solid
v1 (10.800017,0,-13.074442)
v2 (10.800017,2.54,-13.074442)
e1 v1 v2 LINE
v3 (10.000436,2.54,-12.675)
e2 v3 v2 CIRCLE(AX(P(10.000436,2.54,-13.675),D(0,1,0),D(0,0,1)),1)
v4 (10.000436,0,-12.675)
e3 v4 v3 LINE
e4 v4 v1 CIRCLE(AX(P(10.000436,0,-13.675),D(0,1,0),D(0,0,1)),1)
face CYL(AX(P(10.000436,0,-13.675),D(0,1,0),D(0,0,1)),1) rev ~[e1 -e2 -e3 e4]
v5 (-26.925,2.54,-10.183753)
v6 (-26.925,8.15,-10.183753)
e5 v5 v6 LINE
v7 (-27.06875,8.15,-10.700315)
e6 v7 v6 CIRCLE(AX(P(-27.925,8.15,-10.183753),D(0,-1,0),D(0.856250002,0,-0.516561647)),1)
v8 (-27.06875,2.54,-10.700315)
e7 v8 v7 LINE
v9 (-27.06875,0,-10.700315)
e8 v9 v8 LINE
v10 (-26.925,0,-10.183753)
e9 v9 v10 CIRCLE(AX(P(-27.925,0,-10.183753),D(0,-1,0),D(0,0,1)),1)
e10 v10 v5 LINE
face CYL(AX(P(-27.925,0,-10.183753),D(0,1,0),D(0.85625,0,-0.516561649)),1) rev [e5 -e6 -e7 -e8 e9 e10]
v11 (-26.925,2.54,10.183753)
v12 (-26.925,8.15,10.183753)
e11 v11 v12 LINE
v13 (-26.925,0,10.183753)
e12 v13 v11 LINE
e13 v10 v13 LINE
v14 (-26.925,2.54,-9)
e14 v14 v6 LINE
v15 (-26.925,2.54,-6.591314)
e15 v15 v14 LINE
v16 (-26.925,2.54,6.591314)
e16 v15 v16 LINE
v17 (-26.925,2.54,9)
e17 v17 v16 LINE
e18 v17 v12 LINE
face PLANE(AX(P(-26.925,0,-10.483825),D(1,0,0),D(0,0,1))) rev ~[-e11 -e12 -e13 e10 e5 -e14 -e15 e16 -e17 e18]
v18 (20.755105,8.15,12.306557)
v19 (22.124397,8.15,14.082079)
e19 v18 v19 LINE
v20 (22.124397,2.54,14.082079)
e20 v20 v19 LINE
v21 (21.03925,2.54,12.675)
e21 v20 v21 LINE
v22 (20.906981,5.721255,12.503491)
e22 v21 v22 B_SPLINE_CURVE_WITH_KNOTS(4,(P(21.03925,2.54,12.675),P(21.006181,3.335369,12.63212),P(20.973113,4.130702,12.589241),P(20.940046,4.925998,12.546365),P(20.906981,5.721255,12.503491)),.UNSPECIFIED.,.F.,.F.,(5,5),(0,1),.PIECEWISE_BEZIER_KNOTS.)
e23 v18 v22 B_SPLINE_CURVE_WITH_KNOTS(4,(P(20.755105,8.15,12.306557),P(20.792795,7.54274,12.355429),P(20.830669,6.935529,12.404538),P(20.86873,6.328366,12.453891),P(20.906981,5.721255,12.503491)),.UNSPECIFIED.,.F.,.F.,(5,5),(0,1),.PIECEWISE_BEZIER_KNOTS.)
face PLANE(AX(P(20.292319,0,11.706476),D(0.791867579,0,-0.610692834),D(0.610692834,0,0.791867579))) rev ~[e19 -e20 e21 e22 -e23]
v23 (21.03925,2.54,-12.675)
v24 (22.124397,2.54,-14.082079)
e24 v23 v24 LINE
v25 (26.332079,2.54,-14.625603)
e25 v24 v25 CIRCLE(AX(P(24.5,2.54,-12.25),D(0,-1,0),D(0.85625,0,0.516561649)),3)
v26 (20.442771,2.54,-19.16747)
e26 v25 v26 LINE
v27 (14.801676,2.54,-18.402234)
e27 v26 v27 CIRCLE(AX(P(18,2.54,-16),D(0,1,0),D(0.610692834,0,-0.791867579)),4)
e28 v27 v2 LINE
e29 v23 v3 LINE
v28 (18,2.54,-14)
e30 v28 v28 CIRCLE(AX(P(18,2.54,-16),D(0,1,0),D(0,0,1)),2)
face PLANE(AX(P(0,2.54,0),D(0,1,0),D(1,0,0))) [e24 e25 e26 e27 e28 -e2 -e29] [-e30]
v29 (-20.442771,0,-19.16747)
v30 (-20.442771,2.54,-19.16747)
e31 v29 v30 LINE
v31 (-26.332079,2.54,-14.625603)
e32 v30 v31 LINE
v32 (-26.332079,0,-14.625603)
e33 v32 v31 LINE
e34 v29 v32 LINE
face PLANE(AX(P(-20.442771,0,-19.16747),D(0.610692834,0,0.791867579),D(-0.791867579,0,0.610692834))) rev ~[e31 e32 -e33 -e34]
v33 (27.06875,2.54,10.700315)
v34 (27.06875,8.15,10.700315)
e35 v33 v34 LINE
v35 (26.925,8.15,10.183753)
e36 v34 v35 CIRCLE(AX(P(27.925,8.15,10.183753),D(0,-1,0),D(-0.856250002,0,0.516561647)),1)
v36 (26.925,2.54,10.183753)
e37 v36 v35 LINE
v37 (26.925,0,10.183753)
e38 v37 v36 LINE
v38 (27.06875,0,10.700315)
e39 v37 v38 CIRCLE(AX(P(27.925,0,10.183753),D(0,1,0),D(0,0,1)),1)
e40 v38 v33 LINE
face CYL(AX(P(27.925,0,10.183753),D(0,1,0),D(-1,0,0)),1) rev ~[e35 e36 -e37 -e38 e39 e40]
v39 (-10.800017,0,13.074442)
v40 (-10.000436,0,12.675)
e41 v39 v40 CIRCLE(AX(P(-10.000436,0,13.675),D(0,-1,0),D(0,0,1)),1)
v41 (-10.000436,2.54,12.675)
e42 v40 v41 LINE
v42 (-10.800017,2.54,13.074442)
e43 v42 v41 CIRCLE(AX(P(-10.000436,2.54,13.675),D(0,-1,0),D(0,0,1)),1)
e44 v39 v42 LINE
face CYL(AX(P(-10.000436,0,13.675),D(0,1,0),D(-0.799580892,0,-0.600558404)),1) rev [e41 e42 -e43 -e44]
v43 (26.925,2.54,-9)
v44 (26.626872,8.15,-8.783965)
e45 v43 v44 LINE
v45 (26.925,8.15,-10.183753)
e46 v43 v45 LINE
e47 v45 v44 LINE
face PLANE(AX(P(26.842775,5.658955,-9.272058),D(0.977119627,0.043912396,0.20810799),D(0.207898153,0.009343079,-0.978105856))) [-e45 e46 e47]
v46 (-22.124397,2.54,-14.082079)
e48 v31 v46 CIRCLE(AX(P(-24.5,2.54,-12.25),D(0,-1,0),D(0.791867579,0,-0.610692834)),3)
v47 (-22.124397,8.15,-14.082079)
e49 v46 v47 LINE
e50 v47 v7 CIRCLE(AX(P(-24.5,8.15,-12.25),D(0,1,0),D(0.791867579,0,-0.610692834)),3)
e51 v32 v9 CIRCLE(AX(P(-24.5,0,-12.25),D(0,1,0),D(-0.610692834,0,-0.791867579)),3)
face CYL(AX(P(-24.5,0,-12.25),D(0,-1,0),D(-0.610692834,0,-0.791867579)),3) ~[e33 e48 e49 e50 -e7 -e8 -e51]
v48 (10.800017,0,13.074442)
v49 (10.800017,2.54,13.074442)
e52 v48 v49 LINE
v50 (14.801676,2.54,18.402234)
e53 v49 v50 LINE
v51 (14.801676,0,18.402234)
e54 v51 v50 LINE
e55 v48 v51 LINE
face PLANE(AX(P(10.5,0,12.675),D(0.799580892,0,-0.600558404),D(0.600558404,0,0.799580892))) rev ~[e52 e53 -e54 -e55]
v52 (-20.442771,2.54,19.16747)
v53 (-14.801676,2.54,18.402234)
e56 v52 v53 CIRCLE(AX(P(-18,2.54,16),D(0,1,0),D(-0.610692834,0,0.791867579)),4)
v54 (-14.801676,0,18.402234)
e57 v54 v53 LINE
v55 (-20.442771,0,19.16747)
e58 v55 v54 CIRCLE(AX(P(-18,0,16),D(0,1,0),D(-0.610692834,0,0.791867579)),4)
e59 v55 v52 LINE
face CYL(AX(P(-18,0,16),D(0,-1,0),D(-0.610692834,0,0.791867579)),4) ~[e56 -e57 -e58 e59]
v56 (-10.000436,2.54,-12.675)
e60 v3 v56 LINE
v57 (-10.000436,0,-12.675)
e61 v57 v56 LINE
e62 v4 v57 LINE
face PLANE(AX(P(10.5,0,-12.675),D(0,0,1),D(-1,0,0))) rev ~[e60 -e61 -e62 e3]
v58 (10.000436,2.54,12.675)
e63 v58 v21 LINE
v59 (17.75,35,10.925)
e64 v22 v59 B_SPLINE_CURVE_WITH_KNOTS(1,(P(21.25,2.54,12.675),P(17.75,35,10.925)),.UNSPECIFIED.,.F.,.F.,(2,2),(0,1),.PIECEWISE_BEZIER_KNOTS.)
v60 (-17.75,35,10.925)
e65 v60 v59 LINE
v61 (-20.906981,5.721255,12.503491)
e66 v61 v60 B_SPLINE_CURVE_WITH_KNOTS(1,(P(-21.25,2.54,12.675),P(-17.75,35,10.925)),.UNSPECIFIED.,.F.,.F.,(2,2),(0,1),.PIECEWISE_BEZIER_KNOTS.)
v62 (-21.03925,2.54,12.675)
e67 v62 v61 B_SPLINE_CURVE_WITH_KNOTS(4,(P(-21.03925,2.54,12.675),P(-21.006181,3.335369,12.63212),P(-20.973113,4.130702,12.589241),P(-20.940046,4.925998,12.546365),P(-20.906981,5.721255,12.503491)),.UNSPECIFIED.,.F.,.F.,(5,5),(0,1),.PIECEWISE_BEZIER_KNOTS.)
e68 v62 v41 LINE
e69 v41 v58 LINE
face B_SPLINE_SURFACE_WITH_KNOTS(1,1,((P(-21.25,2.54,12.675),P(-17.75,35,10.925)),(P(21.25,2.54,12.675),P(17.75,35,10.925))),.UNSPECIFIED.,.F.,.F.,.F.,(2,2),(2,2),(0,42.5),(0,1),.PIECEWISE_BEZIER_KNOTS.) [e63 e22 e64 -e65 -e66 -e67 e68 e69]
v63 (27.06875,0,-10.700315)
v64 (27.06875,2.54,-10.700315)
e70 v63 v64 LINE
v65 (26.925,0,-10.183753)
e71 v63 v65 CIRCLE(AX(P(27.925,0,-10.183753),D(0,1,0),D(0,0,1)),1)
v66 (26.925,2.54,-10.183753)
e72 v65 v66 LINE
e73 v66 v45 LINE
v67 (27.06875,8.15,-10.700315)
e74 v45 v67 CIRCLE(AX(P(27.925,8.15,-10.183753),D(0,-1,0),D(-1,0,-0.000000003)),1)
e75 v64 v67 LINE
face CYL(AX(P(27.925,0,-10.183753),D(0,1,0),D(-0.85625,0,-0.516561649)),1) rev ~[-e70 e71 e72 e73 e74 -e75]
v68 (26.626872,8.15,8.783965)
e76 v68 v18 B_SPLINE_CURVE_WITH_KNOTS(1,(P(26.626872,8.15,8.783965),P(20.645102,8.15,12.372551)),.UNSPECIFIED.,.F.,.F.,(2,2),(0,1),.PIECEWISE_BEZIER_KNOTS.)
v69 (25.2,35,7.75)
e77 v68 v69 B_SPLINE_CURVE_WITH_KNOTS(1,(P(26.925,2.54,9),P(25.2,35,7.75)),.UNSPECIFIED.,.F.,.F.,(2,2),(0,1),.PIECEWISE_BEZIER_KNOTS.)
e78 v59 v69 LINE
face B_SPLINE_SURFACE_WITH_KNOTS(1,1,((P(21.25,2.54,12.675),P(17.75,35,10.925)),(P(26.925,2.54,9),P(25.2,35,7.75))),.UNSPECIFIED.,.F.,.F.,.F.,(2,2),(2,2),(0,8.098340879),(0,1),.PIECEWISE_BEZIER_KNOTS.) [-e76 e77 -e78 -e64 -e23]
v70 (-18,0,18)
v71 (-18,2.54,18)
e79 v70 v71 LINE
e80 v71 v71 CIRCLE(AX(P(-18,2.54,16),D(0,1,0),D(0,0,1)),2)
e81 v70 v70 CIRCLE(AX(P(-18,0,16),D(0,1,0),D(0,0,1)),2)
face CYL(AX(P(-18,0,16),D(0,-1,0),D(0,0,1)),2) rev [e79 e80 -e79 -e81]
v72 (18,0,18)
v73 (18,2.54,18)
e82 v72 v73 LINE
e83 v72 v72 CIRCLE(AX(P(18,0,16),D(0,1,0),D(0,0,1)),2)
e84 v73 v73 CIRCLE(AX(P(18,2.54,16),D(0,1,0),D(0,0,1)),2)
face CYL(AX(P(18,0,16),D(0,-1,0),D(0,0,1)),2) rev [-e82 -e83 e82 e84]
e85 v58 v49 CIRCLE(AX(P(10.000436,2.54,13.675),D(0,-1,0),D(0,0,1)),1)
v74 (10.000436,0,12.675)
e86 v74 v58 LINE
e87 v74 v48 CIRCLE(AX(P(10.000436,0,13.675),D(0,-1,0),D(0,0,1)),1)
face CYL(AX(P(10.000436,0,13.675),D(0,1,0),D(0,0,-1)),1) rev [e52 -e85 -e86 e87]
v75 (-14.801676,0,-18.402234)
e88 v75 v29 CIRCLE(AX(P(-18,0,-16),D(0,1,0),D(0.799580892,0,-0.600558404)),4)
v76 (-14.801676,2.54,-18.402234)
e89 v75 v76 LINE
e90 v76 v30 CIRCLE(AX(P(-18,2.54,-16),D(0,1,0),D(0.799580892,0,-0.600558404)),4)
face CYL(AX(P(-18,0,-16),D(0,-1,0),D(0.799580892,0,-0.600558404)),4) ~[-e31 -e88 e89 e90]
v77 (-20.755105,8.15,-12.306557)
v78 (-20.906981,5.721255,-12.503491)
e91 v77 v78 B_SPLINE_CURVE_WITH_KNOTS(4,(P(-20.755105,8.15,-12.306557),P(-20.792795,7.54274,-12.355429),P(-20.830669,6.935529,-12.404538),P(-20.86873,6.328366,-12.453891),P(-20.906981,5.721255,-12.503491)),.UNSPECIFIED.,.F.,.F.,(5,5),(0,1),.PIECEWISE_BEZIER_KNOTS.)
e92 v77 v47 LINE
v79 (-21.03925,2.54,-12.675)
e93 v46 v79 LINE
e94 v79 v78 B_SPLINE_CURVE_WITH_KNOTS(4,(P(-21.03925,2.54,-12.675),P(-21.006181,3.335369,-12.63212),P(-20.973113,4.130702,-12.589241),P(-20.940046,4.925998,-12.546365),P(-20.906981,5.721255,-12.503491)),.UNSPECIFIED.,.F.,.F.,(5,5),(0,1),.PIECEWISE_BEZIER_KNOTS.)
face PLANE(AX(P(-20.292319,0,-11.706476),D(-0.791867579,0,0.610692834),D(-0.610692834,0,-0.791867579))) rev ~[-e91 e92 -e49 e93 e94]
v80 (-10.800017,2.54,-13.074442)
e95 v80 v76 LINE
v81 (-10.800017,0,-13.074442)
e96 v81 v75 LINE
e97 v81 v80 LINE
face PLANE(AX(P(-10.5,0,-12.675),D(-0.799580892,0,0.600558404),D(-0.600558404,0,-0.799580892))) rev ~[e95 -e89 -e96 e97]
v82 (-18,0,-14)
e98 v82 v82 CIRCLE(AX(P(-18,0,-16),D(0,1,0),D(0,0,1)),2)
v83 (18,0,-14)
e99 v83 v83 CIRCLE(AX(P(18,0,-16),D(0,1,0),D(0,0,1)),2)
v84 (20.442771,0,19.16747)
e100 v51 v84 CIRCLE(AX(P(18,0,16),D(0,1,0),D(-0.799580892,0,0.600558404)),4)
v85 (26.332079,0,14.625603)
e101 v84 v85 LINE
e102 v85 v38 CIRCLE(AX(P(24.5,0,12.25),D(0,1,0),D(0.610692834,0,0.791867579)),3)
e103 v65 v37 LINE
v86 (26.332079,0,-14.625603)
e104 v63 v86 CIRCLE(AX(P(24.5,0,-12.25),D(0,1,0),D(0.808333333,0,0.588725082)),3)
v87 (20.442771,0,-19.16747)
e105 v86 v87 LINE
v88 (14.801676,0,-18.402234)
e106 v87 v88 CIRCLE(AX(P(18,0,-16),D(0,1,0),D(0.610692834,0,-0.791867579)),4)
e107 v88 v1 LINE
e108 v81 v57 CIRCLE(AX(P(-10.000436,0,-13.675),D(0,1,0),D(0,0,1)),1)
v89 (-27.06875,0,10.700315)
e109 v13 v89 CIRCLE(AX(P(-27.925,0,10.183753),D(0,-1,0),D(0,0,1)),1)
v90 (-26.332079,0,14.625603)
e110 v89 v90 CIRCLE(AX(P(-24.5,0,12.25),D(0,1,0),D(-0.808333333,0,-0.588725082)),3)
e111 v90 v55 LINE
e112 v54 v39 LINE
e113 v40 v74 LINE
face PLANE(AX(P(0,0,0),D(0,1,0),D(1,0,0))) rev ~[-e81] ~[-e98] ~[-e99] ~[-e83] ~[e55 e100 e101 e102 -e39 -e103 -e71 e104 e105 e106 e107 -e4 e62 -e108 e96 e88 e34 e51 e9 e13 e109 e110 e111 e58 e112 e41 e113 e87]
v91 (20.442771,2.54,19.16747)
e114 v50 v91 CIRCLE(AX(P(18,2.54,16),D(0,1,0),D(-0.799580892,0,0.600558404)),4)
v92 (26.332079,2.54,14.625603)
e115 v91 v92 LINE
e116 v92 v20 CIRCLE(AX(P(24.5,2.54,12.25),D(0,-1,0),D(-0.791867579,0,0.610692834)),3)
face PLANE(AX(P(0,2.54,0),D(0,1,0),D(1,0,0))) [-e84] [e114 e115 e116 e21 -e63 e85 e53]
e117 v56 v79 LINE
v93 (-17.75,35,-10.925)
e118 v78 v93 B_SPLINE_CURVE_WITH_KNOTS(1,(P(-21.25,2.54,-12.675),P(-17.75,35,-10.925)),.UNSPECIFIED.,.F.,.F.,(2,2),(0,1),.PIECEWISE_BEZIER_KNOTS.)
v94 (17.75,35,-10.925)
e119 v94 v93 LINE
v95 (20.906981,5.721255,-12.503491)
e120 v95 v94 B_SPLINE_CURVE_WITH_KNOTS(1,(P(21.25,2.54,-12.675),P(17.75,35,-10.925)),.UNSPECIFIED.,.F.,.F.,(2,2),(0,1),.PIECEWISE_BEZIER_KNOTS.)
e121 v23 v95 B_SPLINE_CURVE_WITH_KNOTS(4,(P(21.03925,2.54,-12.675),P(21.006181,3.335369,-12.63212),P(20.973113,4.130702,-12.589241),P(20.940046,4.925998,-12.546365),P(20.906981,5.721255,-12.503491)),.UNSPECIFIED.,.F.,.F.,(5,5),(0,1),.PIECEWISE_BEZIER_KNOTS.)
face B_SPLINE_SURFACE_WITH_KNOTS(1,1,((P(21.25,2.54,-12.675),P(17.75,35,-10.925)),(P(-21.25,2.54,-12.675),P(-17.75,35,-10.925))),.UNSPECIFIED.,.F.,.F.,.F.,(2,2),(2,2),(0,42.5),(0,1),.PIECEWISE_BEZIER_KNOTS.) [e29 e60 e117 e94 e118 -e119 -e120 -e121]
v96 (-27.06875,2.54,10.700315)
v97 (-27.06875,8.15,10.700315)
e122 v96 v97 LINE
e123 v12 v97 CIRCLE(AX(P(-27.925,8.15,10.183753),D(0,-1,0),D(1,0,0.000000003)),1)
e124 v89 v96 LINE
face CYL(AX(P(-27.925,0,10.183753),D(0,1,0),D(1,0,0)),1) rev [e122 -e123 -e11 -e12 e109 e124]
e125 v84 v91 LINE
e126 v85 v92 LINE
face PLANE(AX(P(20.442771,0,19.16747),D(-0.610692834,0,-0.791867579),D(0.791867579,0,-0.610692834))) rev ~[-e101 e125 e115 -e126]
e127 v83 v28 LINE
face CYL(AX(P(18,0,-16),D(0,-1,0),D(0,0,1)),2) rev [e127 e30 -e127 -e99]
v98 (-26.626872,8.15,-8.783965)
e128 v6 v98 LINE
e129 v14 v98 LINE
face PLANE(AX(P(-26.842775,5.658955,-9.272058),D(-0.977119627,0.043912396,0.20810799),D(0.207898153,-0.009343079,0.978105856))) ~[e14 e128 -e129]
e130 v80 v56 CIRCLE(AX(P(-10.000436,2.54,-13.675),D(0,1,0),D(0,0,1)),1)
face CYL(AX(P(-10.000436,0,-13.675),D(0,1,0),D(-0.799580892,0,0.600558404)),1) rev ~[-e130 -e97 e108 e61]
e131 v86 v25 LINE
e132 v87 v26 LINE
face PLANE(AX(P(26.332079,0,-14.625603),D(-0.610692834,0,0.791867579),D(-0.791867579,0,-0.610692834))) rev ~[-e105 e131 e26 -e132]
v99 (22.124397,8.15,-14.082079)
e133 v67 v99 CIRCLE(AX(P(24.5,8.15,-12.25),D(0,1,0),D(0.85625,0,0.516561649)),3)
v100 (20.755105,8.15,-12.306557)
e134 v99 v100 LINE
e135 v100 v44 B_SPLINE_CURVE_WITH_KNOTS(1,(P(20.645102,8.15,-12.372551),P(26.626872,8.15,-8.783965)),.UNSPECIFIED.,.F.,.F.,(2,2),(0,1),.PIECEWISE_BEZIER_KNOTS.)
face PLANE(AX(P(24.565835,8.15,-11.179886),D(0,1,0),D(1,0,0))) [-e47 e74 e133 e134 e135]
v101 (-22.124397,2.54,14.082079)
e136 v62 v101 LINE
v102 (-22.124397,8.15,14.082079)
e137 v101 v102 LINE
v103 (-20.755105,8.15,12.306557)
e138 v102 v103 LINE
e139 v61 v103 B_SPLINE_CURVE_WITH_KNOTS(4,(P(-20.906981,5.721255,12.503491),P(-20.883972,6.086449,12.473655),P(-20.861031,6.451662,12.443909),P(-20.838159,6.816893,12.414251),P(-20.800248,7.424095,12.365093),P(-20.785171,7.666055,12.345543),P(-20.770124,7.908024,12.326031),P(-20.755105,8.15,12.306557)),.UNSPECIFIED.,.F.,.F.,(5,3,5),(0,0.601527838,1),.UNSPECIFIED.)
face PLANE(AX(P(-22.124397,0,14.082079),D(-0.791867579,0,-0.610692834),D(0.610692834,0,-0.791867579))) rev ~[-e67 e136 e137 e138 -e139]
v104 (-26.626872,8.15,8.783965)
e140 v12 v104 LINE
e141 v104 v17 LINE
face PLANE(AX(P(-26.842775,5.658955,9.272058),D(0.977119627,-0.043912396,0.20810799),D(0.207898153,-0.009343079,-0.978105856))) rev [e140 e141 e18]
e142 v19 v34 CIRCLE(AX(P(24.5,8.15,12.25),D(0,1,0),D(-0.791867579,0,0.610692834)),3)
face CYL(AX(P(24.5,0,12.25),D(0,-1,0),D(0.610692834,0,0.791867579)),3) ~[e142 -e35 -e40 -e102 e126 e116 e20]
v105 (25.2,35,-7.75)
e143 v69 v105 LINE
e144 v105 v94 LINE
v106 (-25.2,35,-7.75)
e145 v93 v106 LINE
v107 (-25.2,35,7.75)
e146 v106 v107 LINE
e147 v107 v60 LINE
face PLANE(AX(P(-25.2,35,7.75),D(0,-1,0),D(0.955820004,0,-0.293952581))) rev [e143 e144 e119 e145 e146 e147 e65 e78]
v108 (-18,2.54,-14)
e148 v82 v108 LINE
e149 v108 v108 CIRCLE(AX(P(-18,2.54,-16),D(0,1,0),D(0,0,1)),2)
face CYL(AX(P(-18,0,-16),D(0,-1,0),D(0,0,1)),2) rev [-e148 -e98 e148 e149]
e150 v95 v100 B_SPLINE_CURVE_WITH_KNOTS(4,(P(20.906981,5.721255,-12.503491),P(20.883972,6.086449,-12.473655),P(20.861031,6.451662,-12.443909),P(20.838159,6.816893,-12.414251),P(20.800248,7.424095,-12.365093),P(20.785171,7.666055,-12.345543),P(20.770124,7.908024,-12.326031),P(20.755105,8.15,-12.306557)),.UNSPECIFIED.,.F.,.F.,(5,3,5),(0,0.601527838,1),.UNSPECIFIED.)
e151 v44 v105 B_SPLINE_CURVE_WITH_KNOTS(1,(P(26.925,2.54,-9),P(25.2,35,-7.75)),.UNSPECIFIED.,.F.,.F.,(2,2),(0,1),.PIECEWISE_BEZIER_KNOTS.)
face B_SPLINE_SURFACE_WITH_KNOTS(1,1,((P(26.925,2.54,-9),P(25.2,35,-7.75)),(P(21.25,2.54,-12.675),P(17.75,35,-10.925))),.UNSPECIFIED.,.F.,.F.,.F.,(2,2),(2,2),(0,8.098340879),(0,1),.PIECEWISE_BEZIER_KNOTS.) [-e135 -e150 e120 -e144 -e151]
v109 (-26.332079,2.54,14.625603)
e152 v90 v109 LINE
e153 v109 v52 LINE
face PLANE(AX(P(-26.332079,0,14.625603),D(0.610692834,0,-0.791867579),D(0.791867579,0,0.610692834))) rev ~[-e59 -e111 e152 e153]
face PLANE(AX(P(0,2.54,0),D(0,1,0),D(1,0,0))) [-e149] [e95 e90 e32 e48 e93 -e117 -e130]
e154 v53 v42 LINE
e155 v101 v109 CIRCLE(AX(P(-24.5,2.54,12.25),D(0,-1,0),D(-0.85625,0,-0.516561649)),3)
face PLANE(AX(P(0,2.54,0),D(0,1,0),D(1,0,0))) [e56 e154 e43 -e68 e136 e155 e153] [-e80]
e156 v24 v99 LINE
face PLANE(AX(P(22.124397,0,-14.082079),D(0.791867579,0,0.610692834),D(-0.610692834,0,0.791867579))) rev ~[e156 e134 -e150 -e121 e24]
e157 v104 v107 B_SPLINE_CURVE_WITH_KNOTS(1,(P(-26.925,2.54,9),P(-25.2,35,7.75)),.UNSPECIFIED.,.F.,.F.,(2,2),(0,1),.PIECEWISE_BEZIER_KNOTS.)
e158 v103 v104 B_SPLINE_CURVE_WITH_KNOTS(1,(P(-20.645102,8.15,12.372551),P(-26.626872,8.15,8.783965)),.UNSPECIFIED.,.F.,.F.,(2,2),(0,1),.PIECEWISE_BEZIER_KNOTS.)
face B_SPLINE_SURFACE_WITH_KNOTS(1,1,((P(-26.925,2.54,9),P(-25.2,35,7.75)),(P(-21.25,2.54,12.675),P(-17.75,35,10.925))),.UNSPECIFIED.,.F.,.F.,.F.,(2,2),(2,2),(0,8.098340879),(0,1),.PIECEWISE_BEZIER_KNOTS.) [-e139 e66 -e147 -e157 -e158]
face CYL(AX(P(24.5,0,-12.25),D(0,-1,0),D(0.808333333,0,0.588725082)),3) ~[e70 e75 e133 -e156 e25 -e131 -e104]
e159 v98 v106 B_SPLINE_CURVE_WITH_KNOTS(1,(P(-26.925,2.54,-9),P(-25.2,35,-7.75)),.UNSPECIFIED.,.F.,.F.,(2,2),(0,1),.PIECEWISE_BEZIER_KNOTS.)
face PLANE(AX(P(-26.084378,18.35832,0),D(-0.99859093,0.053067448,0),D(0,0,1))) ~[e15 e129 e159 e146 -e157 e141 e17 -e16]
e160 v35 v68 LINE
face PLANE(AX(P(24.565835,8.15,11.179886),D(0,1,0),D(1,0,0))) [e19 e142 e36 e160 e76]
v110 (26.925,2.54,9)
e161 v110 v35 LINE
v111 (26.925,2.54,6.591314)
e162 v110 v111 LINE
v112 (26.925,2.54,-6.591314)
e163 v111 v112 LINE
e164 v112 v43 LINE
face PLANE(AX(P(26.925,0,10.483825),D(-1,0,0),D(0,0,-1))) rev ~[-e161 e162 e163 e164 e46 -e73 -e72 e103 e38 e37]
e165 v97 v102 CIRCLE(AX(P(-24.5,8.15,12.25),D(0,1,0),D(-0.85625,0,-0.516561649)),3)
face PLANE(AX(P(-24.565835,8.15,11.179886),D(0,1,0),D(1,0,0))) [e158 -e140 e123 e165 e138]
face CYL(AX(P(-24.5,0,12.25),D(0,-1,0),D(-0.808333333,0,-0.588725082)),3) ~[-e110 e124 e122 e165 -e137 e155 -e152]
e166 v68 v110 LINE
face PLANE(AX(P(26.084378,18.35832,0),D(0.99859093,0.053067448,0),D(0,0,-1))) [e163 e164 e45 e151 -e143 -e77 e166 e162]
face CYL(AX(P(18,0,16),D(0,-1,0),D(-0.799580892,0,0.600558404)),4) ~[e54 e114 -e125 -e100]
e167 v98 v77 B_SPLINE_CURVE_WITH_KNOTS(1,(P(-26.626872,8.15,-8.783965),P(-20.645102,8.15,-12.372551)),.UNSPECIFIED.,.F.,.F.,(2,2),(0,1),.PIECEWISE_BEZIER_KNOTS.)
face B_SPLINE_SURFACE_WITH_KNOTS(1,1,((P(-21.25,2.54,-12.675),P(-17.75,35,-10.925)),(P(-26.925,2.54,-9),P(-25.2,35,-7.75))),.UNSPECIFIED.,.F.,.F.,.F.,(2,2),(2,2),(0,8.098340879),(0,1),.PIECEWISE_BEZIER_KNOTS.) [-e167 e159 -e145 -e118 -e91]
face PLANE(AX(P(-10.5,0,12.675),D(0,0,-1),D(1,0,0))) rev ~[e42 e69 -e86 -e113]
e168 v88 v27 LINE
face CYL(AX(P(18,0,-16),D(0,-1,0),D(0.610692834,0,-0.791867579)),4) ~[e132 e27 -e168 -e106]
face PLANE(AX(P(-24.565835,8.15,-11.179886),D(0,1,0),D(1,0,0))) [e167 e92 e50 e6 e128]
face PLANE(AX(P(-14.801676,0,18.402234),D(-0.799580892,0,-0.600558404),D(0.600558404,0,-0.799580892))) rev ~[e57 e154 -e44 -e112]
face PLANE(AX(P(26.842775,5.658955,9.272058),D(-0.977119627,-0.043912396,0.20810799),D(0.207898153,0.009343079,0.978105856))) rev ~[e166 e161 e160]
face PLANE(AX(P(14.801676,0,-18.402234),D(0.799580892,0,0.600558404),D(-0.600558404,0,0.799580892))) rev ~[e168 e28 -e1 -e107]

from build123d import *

# Parameters (mm, degrees)
SKETCH3_R           = 2
BOSS_EXTRUDE1_DEPTH = 2.54
FILLET1_R           = 1
BOSS_EXTRUDE2_START = -2.54
BOSS_EXTRUDE2_DEPTH = 8.15
CUT_EXTRUDE1_DEPTH  = 68.045951128
CUT_EXTRUDE2_REACH  = 68.573
CUT_EXTRUDE3_REACH  = 68.573


with BuildPart() as part:
    # Sketch3 → Boss-Extrude1 (new body)
    with BuildSketch(Plane(origin=(0, 0, 0), x_dir=(1, 0, 0), z_dir=(0, 1, 0))):
        with BuildLine():
            Line((-10.5, 12.675), (-14.80167643, 18.402233616))
            ThreePointArc((-14.80167643, 18.402233616), (-17.462309014, 19.963696306), (-20.442771336, 19.167470316))
            Line((-20.442771336, 19.167470316), (-26.332078502, 14.625602737))
            ThreePointArc((-26.332078502, 14.625602737), (-27.469723987, 12.675134617), (-26.925, 10.483824754))
            Line((-26.925, 10.483824754), (-26.925, -10.483824754))
            ThreePointArc((-26.925, -10.483824754), (-27.469723987, -12.675134617), (-26.332078502, -14.625602737))
            Line((-26.332078502, -14.625602737), (-20.442771336, -19.167470316))
            ThreePointArc((-20.442771336, -19.167470316), (-17.462309014, -19.963696306), (-14.80167643, -18.402233616))
            Line((-14.80167643, -18.402233616), (-10.5, -12.675))
            Line((-10.5, -12.675), (10.5, -12.675))
            Line((10.5, -12.675), (14.80167643, -18.402233616))
            ThreePointArc((14.80167643, -18.402233616), (17.462309014, -19.963696306), (20.442771336, -19.167470316))
            Line((20.442771336, -19.167470316), (26.332078502, -14.625602737))
            ThreePointArc((26.332078502, -14.625602737), (27.469723987, -12.675134617), (26.925, -10.483824754))
            Line((26.925, -10.483824754), (26.925, 10.483824754))
            ThreePointArc((26.925, 10.483824754), (27.469723987, 12.675134617), (26.332078502, 14.625602737))
            Line((26.332078502, 14.625602737), (20.442771336, 19.167470316))
            ThreePointArc((20.442771336, 19.167470316), (17.462309014, 19.963696306), (14.80167643, 18.402233616))
            Line((14.80167643, 18.402233616), (10.5, 12.675))
            Line((10.5, 12.675), (-10.5, 12.675))
        make_face()
        with Locations(Location((-18, 16, 0), (0, 0, 270))):
            Circle(SKETCH3_R, mode=Mode.SUBTRACT)
        with Locations(Location((18, 16, 0), (0, 0, 270))):
            Circle(SKETCH3_R, mode=Mode.SUBTRACT)
        with Locations(Location((-18, -16, 0), (0, 0, 270))):
            Circle(SKETCH3_R, mode=Mode.SUBTRACT)
        with Locations(Location((18, -16, 0), (0, 0, 270))):
            Circle(SKETCH3_R, mode=Mode.SUBTRACT)
    extrude(amount=BOSS_EXTRUDE1_DEPTH)

    # Fillet1
    fillet1_edges = [part.edges().sort_by_distance(p)[0] for p in [
        (-26.925, 1.27, 10.483824754),
        (-26.925, 1.27, -10.483824754),
        (-10.5, 1.27, -12.675),
        (10.5, 1.27, -12.675),
        (26.925, 1.27, -10.483824754),
        (26.925, 1.27, 10.483824754),
        (10.5, 1.27, 12.675),
        (-10.5, 1.27, 12.675),
    ]]
    fillet(fillet1_edges, radius=FILLET1_R)

    # Sketch4 → Loft1 section 0
    with BuildSketch(Plane(origin=(0, 2.54, 0), x_dir=(1, 0, 0), z_dir=(0, 1, 0))):
        with BuildLine():
            Line((-26.925, -9), (-21.25, -12.675))
            Line((-21.25, -12.675), (21.25, -12.675))
            Line((21.25, -12.675), (26.925, -9))
            Line((26.925, -9), (26.925, 9))
            Line((26.925, 9), (21.25, 12.675))
            Line((21.25, 12.675), (-21.25, 12.675))
            Line((-21.25, 12.675), (-26.925, 9))
            Line((-26.925, 9), (-26.925, -9))
        make_face()
    # Sketch5 → Loft1 section 1
    with BuildSketch(Plane(origin=(0, 35, 0), x_dir=(1, 0, 0), z_dir=(0, 1, 0))):
        with BuildLine():
            Line((-17.75, -10.925), (17.75, -10.925))
            Line((17.75, -10.925), (25.2, -7.75))
            Line((25.2, -7.75), (25.2, 7.75))
            Line((25.2, 7.75), (17.75, 10.925))
            Line((17.75, 10.925), (-17.75, 10.925))
            Line((-17.75, 10.925), (-25.2, 7.75))
            Line((-25.2, 7.75), (-25.2, -7.75))
            Line((-25.2, -7.75), (-17.75, -10.925))
        make_face()
    loft()

    # Sketch7 → Boss-Extrude2 (add)
    with BuildSketch(Plane(origin=(0, 2.54, 0), x_dir=(1, 0, 0), z_dir=(0, 1, 0)).offset(BOSS_EXTRUDE2_START)):
        with BuildLine():
            Line((-22.124397263, -14.082078502), (-20.292318761, -11.706475765))
            Line((-20.292318761, -11.706475765), (-26.925, -6.591313823))
            Line((-26.925, -6.591313823), (-26.925, -10.183753403))
            ThreePointArc((-26.925, -10.183753403), (-26.961607557, -10.451848535), (-27.06875, -10.700315052))
            ThreePointArc((-27.06875, -10.700315052), (-26.19363735, -14.726205267), (-22.124397263, -14.082078502))
        make_face()
        with BuildLine():
            Line((-26.925, 10.183753403), (-26.925, 6.591313823))
            Line((-26.925, 6.591313823), (-20.292318761, 11.706475765))
            Line((-20.292318761, 11.706475765), (-22.124397263, 14.082078502))
            ThreePointArc((-22.124397263, 14.082078502), (-26.19363735, 14.726205267), (-27.06875, 10.700315052))
            ThreePointArc((-27.06875, 10.700315052), (-26.961607557, 10.451848535), (-26.925, 10.183753403))
        make_face()
        with BuildLine():
            Line((26.925, -10.183753403), (26.925, -6.591313823))
            Line((26.925, -6.591313823), (20.292318761, -11.706475765))
            Line((20.292318761, -11.706475765), (22.124397263, -14.082078502))
            ThreePointArc((22.124397263, -14.082078502), (26.19363735, -14.726205267), (27.06875, -10.700315052))
            ThreePointArc((27.06875, -10.700315052), (26.961607557, -10.451848535), (26.925, -10.183753403))
        make_face()
        with BuildLine():
            Line((22.124397263, 14.082078502), (20.292318761, 11.706475765))
            Line((20.292318761, 11.706475765), (26.925, 6.591313823))
            Line((26.925, 6.591313823), (26.925, 10.183753403))
            ThreePointArc((26.925, 10.183753403), (26.961607557, 10.451848535), (27.06875, 10.700315052))
            ThreePointArc((27.06875, 10.700315052), (26.19363735, 14.726205267), (22.124397263, 14.082078502))
        make_face()
    extrude(amount=BOSS_EXTRUDE2_DEPTH)

    # Sketch8 → Cut-Extrude1 (cut, through all)
    with BuildSketch(Plane(origin=(26.98377644, 1.433980726, 0), x_dir=(0, 0, -1), z_dir=(0.9985909302546928, 0.05306744777231502, 0))):
        Polygon((-9, 1.107579931), (9, 1.107579931), (7.75, 33.613382875), (-7.75, 33.613382875), align=None)
    cut_extrude1 = extrude(amount=CUT_EXTRUDE1_DEPTH, mode=Mode.SUBTRACT)

    # Sketch9 → Cut-Extrude2 (cut, up to next)
    with BuildSketch(Plane(origin=(23.985855334, 1.077940045, -5.108533277), x_dir=(-0.20789815344793566, -0.00934307914900991, -0.9781058555519203), z_dir=(0.9771196273503368, 0.04391239587739548, -0.20810798959926086)), mode=Mode.PRIVATE) as cut_extrude2_sk1:
        Polygon((-15.634592712, 6.932975266), (-14.203471003, 6.946359845), (-14.424341903, 1.328631852), align=None)
    cut_extrude2_tool1 = extrude(cut_extrude2_sk1.sketch, amount=CUT_EXTRUDE2_REACH, mode=Mode.PRIVATE) & part.part
    cut_extrude2 = cut_extrude2_tool1.solids().sort_by_distance((26.825624, 6.28, 9.322573))[0]
    add(cut_extrude2, mode=Mode.SUBTRACT)

    # Sketch10 → Cut-Extrude3 (cut, up to next)
    with BuildSketch(Plane(origin=(23.985855334, 1.077940045, 5.108533278), x_dir=(0.2078981534584427, 0.009343079149391592, -0.9781058555496834), z_dir=(0.9771196273481212, 0.04391239587687057, 0.20810798960977442)), mode=Mode.PRIVATE) as cut_extrude3_sk1:
        Polygon((14.424341903, 1.328631852), (15.634592712, 6.932975266), (14.203471003, 6.946359845), align=None)
    cut_extrude3_tool1 = extrude(cut_extrude3_sk1.sketch, amount=CUT_EXTRUDE3_REACH, mode=Mode.PRIVATE) & part.part
    cut_extrude3 = cut_extrude3_tool1.solids().sort_by_distance((26.825624, 6.28, -9.322573))[0]
    add(cut_extrude3, mode=Mode.SUBTRACT)

    # Mirror1: Cut-Extrude1, Cut-Extrude2, Cut-Extrude3 across plane
    add(cut_extrude1.mirror(Plane(origin=(0, 0, 0), x_dir=(0, 0, 1), z_dir=(1, 0, 0))), mode=Mode.SUBTRACT)
    add(cut_extrude2.mirror(Plane(origin=(0, 0, 0), x_dir=(0, 0, 1), z_dir=(1, 0, 0))), mode=Mode.SUBTRACT)
    add(cut_extrude3.mirror(Plane(origin=(0, 0, 0), x_dir=(0, 0, 1), z_dir=(1, 0, 0))), mode=Mode.SUBTRACT)


solid = part.part
